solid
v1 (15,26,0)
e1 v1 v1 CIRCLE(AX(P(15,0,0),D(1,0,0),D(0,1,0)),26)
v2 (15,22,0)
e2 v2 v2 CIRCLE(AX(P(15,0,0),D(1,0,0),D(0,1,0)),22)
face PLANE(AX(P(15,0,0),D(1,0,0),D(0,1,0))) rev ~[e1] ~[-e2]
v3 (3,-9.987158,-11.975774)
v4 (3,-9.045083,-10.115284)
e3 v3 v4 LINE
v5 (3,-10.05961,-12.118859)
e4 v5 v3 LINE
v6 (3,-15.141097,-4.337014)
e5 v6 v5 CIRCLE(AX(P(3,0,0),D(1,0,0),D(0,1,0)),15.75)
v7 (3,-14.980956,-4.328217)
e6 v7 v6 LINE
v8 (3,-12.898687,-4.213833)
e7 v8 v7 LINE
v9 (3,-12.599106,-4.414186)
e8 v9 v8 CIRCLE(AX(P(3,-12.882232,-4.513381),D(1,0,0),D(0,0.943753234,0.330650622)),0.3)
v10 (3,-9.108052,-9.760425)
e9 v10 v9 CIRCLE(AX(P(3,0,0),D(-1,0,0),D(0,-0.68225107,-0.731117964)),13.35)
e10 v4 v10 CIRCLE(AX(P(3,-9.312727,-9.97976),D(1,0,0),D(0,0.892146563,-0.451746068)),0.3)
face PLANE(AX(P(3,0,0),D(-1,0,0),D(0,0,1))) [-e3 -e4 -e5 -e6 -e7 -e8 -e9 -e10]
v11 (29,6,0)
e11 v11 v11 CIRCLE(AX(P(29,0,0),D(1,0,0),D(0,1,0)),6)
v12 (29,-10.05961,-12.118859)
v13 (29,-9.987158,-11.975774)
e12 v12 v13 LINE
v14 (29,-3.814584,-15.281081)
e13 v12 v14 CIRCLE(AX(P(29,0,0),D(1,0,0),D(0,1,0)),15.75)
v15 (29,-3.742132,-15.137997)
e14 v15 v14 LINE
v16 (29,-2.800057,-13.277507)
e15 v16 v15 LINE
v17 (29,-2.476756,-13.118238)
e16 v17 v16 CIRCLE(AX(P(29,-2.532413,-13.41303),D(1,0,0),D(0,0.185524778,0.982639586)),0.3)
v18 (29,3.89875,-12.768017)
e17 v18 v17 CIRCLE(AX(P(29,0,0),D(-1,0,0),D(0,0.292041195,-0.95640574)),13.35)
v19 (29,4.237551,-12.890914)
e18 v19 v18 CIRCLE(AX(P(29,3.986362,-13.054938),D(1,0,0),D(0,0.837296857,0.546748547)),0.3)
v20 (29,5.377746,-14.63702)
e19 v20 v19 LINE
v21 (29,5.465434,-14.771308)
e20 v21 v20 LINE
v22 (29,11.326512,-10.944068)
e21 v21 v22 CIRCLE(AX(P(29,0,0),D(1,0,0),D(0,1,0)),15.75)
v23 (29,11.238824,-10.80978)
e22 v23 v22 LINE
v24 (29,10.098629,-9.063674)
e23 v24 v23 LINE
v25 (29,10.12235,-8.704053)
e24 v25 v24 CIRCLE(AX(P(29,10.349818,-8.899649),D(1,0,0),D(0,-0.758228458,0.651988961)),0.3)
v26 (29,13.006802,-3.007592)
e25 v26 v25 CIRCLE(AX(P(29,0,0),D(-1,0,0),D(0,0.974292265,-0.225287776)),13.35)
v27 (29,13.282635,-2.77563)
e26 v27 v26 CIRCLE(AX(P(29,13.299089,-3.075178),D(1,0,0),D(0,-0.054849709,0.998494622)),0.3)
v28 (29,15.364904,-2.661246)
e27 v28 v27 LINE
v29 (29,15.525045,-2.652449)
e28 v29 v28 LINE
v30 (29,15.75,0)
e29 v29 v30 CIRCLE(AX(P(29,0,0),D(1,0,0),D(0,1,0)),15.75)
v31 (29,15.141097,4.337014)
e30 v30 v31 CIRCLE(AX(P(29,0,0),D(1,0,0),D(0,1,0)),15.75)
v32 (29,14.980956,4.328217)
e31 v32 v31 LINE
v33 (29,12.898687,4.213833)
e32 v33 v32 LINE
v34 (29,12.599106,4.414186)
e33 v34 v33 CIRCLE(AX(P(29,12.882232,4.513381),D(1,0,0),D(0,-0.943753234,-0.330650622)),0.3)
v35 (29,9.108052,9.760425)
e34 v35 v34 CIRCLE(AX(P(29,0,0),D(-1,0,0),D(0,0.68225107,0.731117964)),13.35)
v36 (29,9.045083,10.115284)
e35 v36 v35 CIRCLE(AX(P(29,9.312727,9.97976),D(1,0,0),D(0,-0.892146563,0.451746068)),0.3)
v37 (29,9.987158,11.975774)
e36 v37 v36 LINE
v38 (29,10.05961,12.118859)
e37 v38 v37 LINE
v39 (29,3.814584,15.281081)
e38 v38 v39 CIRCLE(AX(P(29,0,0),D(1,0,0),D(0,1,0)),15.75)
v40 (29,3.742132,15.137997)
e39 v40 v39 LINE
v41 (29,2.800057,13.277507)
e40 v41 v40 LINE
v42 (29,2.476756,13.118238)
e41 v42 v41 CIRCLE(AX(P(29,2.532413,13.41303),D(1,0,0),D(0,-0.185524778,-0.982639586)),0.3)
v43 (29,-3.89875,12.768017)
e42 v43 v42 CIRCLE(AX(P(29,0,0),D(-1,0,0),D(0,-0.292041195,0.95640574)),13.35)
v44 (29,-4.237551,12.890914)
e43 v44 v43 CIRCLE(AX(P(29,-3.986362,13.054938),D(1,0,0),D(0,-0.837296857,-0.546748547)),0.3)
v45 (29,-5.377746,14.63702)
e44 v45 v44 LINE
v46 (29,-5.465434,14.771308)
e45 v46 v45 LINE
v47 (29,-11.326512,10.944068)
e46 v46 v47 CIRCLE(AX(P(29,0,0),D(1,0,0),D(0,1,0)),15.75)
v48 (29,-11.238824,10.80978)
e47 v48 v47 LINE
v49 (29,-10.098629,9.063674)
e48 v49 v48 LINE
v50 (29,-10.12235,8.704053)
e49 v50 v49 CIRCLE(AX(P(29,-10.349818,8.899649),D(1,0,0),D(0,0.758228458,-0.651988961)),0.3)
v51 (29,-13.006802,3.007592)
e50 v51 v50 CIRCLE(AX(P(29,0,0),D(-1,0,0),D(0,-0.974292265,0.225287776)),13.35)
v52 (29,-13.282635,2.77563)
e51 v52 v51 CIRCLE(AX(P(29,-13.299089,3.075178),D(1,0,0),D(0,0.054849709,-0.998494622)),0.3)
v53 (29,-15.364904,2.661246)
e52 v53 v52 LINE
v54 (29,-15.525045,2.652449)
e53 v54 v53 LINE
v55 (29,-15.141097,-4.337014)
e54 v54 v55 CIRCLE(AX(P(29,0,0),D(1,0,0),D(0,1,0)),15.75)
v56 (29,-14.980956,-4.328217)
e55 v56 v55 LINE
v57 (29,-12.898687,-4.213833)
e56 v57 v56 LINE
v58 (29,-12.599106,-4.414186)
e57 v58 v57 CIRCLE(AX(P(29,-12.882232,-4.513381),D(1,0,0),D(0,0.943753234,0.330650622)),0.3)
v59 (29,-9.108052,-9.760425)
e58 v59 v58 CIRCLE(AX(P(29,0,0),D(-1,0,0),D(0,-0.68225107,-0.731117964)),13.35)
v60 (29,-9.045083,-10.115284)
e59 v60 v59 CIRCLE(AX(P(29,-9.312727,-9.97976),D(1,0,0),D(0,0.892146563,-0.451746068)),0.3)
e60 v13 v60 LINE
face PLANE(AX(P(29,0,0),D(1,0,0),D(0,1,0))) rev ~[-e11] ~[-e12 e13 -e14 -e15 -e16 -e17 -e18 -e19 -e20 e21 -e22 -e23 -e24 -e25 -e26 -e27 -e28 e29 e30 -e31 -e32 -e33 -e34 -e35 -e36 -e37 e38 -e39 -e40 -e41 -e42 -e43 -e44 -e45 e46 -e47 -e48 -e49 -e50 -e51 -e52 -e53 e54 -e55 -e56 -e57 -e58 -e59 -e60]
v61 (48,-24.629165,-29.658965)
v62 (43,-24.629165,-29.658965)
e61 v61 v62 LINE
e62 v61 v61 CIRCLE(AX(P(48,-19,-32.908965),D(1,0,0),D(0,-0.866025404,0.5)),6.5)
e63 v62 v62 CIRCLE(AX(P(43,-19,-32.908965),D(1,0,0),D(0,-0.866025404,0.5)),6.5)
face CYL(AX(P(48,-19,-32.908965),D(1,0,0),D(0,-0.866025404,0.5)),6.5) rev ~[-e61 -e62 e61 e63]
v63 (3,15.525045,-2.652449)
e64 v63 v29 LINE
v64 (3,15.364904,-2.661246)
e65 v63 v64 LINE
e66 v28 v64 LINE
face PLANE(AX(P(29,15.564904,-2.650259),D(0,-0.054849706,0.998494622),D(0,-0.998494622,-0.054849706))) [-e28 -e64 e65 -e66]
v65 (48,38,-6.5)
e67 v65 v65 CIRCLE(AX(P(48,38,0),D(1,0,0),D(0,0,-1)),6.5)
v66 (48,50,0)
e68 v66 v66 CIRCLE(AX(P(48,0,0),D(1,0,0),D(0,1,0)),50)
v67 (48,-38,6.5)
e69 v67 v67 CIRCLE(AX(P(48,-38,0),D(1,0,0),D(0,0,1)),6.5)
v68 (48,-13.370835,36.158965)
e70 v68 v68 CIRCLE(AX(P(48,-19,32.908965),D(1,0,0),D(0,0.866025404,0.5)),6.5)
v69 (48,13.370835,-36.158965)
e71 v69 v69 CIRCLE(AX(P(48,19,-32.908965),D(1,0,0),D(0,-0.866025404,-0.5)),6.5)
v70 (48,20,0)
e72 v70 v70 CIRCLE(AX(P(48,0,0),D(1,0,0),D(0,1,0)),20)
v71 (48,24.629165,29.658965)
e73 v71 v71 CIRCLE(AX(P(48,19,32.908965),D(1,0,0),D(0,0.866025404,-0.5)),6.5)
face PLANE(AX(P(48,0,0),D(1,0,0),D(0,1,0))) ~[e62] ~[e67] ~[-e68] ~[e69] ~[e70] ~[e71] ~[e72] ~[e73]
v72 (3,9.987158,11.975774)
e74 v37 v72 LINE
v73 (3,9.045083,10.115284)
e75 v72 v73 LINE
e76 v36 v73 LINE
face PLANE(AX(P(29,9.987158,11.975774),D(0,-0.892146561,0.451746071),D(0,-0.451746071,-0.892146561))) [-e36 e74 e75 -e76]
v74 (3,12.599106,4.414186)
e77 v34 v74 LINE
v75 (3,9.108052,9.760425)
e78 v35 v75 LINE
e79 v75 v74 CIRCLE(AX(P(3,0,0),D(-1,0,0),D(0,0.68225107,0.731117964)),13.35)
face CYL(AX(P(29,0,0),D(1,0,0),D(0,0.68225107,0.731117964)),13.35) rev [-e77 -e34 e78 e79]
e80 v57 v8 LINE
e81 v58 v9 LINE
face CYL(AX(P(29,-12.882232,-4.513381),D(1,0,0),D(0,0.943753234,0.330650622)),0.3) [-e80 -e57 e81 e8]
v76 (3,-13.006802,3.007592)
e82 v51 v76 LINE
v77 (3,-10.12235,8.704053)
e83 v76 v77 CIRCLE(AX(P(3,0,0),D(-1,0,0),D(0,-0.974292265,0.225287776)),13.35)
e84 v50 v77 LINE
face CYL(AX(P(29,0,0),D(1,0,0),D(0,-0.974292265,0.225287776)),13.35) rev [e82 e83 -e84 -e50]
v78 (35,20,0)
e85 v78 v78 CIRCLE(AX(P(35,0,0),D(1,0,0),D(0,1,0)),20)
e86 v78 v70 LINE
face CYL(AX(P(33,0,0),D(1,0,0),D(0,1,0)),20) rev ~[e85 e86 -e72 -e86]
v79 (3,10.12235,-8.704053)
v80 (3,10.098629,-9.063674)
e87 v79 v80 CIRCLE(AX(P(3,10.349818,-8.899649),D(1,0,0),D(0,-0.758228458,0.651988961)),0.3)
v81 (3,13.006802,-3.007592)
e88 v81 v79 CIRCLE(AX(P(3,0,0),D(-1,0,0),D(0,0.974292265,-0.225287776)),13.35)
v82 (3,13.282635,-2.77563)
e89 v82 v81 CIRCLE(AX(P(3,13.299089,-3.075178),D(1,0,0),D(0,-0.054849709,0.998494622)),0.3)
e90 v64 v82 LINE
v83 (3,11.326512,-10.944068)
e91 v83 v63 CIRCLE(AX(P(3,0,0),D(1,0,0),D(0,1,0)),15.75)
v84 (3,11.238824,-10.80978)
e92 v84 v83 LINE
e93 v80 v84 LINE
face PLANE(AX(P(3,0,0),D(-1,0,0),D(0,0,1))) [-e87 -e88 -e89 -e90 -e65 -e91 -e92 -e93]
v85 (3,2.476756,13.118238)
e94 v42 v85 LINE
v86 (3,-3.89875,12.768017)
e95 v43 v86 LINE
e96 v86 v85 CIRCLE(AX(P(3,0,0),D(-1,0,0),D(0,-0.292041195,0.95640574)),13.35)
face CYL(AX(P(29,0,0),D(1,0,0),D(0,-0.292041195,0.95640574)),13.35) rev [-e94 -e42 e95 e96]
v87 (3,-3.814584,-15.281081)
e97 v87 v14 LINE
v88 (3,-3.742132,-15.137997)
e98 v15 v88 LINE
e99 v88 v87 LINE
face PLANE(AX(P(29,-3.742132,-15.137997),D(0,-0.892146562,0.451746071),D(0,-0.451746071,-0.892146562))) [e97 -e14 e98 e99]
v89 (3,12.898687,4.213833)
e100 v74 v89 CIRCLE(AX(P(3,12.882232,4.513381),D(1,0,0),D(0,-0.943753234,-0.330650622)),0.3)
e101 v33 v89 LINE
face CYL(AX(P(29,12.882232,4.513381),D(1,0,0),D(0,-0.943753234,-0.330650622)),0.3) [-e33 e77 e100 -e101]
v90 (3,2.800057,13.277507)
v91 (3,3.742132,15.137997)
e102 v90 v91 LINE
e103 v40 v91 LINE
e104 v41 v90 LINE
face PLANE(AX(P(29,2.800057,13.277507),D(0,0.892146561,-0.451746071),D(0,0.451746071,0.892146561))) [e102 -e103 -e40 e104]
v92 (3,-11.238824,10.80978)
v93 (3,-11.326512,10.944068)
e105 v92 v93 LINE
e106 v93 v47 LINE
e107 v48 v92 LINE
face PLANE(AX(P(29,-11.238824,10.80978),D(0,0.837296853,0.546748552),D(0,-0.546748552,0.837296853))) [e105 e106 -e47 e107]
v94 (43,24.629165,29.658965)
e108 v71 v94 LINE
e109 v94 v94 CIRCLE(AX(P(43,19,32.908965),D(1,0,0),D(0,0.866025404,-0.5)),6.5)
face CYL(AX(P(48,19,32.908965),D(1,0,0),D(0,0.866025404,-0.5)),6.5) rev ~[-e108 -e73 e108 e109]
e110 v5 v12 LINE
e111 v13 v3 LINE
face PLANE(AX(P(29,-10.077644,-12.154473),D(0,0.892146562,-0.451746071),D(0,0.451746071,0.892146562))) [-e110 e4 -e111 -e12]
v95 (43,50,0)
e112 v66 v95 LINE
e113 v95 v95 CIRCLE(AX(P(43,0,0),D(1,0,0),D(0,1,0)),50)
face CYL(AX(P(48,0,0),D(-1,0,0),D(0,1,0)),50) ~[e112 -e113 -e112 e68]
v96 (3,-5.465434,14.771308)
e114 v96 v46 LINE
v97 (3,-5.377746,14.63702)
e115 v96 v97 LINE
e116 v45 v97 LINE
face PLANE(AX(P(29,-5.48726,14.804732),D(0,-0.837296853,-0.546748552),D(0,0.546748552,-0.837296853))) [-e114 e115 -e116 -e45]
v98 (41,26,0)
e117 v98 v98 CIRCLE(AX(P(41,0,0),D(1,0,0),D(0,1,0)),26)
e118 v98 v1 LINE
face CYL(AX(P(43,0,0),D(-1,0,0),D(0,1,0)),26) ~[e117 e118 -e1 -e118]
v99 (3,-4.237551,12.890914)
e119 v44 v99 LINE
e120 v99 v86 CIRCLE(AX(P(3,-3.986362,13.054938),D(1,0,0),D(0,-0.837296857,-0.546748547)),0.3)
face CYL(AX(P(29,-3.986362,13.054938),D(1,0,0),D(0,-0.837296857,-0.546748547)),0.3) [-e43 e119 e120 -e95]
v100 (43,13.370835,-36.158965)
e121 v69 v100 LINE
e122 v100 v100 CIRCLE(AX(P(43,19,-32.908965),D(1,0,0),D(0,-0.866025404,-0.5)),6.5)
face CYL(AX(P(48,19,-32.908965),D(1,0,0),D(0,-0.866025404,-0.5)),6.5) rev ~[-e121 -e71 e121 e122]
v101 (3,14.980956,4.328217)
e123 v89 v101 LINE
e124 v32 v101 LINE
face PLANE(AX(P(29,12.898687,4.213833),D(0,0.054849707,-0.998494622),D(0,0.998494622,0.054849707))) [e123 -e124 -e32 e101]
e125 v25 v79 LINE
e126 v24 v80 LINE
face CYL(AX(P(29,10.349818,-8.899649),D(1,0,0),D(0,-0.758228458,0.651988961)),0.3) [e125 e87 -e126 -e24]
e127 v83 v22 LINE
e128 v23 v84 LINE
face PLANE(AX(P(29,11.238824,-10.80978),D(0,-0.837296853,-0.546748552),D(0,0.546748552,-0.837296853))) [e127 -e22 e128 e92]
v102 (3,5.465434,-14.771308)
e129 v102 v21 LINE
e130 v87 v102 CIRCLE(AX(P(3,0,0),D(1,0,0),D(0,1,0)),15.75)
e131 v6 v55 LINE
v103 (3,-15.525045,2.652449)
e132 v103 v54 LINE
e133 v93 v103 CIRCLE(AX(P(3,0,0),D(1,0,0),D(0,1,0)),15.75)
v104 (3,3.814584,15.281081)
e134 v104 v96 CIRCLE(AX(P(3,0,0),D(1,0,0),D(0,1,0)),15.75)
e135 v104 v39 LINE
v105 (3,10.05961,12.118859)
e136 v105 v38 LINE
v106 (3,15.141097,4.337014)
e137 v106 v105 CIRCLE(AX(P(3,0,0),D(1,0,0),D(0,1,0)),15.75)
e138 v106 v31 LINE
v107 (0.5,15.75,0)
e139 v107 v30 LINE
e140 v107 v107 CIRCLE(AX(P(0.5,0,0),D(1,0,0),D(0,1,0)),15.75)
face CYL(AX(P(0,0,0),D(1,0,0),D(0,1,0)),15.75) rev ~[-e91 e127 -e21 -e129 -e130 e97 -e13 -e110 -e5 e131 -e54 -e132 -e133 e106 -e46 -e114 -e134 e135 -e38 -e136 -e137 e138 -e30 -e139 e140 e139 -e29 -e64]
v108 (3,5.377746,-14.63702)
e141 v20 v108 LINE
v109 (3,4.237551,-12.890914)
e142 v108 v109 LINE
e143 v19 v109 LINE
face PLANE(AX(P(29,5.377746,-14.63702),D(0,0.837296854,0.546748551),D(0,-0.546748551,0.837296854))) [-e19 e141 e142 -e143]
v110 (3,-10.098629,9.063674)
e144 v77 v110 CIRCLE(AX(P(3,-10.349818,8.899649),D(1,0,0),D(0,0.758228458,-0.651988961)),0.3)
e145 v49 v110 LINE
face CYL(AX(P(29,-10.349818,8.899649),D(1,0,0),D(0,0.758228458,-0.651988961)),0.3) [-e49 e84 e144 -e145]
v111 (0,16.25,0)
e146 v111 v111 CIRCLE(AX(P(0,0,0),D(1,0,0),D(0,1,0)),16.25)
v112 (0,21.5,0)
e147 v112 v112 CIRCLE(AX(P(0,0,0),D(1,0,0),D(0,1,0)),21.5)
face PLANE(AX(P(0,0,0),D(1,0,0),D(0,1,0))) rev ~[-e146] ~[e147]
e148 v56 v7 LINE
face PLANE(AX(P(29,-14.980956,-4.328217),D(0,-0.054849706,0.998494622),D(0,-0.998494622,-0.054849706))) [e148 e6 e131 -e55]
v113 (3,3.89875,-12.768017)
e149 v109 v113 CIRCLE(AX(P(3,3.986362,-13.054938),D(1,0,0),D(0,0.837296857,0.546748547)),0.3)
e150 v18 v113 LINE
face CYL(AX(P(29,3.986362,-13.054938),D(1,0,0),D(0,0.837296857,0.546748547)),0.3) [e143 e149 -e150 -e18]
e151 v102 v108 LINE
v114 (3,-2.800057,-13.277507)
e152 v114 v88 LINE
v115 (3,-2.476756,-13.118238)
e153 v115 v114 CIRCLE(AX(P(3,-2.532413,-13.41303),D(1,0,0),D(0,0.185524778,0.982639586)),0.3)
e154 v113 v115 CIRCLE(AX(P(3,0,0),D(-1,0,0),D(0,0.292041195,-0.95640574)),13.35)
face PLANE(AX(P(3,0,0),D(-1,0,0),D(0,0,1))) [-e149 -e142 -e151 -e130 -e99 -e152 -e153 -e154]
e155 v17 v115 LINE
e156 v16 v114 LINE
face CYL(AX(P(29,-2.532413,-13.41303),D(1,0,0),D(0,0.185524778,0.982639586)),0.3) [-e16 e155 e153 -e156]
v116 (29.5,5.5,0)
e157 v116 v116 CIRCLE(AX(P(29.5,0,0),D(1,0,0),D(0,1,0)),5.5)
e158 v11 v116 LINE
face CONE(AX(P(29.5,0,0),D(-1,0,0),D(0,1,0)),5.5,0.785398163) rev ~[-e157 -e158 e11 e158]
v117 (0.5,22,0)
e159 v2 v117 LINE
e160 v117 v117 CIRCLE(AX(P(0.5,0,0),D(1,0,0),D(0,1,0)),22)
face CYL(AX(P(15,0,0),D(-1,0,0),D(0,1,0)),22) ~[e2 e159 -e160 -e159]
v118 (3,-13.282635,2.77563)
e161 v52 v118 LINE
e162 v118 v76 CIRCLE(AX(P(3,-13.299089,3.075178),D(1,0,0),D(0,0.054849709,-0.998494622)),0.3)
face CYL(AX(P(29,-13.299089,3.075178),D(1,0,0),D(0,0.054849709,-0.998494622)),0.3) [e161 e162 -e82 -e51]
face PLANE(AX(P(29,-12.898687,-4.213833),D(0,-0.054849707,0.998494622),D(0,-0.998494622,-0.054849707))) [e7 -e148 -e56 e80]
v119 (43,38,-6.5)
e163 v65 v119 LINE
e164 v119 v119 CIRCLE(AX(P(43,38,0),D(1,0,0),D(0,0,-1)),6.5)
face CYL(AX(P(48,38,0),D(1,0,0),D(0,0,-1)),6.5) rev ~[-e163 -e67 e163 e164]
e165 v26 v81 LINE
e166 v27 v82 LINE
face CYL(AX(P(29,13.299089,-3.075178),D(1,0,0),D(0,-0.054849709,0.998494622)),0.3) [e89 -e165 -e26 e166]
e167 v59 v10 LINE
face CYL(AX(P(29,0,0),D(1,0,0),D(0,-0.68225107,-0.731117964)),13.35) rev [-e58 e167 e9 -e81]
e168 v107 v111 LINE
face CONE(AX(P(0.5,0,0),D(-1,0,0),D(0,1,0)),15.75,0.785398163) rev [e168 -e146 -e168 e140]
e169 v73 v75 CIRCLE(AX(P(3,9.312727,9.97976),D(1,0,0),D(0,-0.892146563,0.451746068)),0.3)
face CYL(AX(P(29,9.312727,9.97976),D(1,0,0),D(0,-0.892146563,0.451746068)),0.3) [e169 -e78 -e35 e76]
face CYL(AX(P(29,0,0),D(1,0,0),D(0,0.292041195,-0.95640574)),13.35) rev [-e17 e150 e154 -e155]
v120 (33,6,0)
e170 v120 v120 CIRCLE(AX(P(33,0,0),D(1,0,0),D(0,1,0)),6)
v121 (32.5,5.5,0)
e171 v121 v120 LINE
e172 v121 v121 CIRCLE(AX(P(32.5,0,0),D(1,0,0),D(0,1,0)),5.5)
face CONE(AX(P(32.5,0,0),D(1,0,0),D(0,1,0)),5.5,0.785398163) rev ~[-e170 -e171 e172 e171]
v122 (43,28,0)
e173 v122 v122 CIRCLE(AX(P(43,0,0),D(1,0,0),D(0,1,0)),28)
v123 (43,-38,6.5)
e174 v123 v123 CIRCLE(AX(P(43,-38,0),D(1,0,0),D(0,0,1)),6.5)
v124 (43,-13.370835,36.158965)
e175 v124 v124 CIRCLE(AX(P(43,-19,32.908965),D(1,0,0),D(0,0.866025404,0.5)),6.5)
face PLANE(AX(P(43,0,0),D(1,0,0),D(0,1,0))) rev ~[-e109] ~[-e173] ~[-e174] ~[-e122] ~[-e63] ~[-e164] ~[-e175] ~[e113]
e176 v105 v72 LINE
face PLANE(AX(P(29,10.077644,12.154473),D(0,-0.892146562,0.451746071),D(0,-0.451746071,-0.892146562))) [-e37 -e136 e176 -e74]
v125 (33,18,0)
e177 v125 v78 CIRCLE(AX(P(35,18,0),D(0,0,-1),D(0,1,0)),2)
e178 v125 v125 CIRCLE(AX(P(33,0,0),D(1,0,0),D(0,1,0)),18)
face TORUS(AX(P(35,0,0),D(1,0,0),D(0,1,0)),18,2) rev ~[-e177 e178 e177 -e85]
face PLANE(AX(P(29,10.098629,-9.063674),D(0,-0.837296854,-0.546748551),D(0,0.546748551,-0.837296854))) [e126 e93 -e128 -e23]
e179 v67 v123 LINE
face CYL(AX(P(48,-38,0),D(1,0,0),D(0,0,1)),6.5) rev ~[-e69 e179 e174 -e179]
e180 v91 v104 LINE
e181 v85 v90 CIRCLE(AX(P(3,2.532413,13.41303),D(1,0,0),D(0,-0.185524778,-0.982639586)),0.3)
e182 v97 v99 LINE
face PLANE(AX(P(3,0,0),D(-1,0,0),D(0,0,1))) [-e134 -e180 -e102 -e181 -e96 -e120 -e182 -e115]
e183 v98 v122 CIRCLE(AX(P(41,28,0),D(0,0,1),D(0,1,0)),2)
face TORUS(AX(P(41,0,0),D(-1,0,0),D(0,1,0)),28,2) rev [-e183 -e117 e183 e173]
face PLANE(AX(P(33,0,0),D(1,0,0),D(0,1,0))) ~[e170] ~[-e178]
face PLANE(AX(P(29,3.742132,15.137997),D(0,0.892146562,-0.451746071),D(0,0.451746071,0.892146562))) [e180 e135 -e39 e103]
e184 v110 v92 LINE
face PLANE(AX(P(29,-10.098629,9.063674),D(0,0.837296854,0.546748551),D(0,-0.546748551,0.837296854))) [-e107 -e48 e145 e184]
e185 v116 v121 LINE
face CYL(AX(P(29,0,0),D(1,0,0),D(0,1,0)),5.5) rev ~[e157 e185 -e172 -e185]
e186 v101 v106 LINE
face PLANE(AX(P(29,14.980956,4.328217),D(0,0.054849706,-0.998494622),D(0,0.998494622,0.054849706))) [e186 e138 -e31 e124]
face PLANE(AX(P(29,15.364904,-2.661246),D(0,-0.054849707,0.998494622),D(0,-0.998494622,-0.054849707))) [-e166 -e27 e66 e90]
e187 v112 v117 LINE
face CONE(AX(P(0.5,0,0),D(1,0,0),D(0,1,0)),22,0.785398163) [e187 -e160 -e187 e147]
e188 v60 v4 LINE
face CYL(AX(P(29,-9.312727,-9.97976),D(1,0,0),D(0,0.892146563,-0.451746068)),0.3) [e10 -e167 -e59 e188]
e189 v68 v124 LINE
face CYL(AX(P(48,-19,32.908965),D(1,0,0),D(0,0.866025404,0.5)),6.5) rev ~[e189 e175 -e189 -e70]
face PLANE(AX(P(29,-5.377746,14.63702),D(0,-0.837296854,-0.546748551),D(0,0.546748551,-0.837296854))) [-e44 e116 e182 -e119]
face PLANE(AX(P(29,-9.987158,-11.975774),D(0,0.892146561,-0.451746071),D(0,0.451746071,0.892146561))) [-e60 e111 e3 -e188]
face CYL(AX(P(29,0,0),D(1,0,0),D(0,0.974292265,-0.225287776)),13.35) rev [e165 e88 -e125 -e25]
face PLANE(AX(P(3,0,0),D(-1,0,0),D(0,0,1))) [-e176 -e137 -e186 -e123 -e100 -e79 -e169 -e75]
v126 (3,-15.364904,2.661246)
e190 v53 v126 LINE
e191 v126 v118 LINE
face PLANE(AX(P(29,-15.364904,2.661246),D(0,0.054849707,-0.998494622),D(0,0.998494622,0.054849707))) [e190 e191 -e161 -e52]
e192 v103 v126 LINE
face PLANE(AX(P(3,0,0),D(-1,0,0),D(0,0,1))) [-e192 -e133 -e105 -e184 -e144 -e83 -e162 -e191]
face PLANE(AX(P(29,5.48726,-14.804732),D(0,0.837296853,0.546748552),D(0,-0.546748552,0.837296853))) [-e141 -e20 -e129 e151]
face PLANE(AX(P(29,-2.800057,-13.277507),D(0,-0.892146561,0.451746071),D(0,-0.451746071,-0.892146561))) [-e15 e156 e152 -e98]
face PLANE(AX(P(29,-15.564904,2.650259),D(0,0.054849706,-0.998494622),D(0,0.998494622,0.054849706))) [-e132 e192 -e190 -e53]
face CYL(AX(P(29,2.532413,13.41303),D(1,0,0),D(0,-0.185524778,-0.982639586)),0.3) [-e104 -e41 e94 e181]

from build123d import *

# Parameters (mm, degrees)
SZKIC4_R                    = 6.5
WYTNIJ_WYCI_GNI_CIE1_DEPTH  = 10
SZYK_KO_OWY1_COUNT          = 6
ZAOKR_GLENIE1_R             = 2
SZKIC6_R                    = 16.5
DODANIE_WYCI_GNI_CIE1_DEPTH = 26
SFAZOWANIE1_SIZE            = 0.5


with BuildPart() as part:
    # Szkic2 → Obrót1 (revolve)
    with BuildSketch(Plane.XY):
        Polygon((0, 15.75), (29, 15.75), (29, 5.5), (33, 5.5), (33, 20), (48, 20), (48, 50), (43, 50), (43, 26), (15, 26), (15, 22), (0, 22), align=None)
    revolve(axis=Axis((0, 0, 0), (1, 0, 0)))

    # Szkic4 → Wytnij-wyciągnięcie1 (cut)
    with BuildSketch(Plane(origin=(48, 0, 0), x_dir=(0, 0, -1), z_dir=(1, 0, 0))):
        with Locations((0, 38)):
            Circle(SZKIC4_R)
    wytnij_wyci_gni_cie1 = extrude(amount=-WYTNIJ_WYCI_GNI_CIE1_DEPTH, mode=Mode.SUBTRACT)

    # Szyk kołowy1: Wytnij-wyciągnięcie1 ×6 about axis
    szyk_ko_owy1_axis = Axis((0, 0, 0), (1, 0, 0))
    for i in range(1, SZYK_KO_OWY1_COUNT):
        add(wytnij_wyci_gni_cie1.rotate(szyk_ko_owy1_axis, i * 360 / SZYK_KO_OWY1_COUNT), mode=Mode.SUBTRACT)

    # Zaokrąglenie1
    zaokr_glenie1_edges = [part.edges().sort_by_distance(p)[0] for p in [
        (33, -20, 0),
        (43, -26, 0),
    ]]
    fillet(zaokr_glenie1_edges, radius=ZAOKR_GLENIE1_R)

    # Szkic6 → Dodanie-wyciągnięcie1 (add)
    with BuildSketch(Plane.ZY.offset(-29)):
        Circle(SZKIC6_R)
        with BuildLine():
            Line((-4.32821665, -14.980955932), (-4.33920313, -15.180955932))
            ThreePointArc((-4.33920313, -15.180955932), (-4.301860669, -15.308717905), (-4.192604113, -15.384748071))
            ThreePointArc((-4.192604113, -15.384748071), (-0.874869369, -15.926290292), (2.482220063, -15.751412191))
            ThreePointArc((2.482220063, -15.751412191), (2.599147134, -15.687806835), (2.650259222, -15.564903882))
            Line((2.650259222, -15.564903882), (2.661245702, -15.364903882))
            Line((2.661245702, -15.364903882), (2.775629759, -13.282634507))
            ThreePointArc((2.775629759, -13.282634507), (2.845574347, -13.106003698), (3.007591812, -13.006801739))
            ThreePointArc((3.007591812, -13.006801739), (6.030810048, -11.910156597), (8.704052682, -10.122349871))
            ThreePointArc((8.704052682, -10.122349871), (8.879904359, -10.050468889), (9.063673937, -10.098629351))
            Line((9.063673937, -10.098629351), (10.809780085, -11.238823538))
            Line((10.809780085, -11.238823538), (10.977491925, -11.348338109))
            ThreePointArc((10.977491925, -11.348338109), (11.106808271, -11.379879576), (11.227280604, -11.323275705))
            ThreePointArc((11.227280604, -11.323275705), (13.355137297, -8.720804245), (14.882233134, -5.726040463))
            ThreePointArc((14.882233134, -5.726040463), (14.885612816, -5.592975971), (14.80473178, -5.487260129))
            Line((14.80473178, -5.487260129), (14.63701994, -5.377745558))
            Line((14.63701994, -5.377745558), (12.890913792, -4.237551371))
            ThreePointArc((12.890913792, -4.237551371), (12.772919318, -4.088662177), (12.768016635, -3.898749956))
            ThreePointArc((12.768016635, -3.898749956), (13.3299032, -0.732243591), (13.118238475, 2.476755803))
            ThreePointArc((13.118238475, 2.476755803), (13.143913557, 2.664988314), (13.27750653, 2.800057205))
            Line((13.27750653, 2.800057205), (15.137996735, 3.742132394))
            Line((15.137996735, 3.742132394), (15.316695056, 3.832617823))
            ThreePointArc((15.316695056, 3.832617823), (15.40866894, 3.928838329), (15.419884717, 4.061472366))
            ThreePointArc((15.419884717, 4.061472366), (14.230006666, 7.205486047), (12.400013071, 10.025371728))
            ThreePointArc((12.400013071, 10.025371728), (12.286465682, 10.094830864), (12.154472559, 10.077643754))
            Line((12.154472559, 10.077643754), (11.975774238, 9.987158325))
            Line((11.975774238, 9.987158325), (10.115284033, 9.045083136))
            ThreePointArc((10.115284033, 9.045083136), (9.927344971, 9.017341522), (9.760424822, 9.108051784))
            ThreePointArc((9.760424822, 9.108051784), (7.299093152, 11.177913005), (4.414185793, 12.599105674))
            ThreePointArc((4.414185793, 12.599105674), (4.264009198, 12.715457202), (4.213832593, 12.898686556))
            Line((4.213832593, 12.898686556), (4.32821665, 14.980955932))
            Line((4.32821665, 14.980955932), (4.33920313, 15.180955932))
            ThreePointArc((4.33920313, 15.180955932), (4.301860669, 15.308717905), (4.192604113, 15.384748071))
            ThreePointArc((4.192604113, 15.384748071), (0.874869369, 15.926290292), (-2.482220063, 15.751412191))
            ThreePointArc((-2.482220063, 15.751412191), (-2.599147134, 15.687806835), (-2.650259222, 15.564903882))
            Line((-2.650259222, 15.564903882), (-2.661245702, 15.364903882))
            Line((-2.661245702, 15.364903882), (-2.775629759, 13.282634507))
            ThreePointArc((-2.775629759, 13.282634507), (-2.845574347, 13.106003698), (-3.007591812, 13.006801739))
            ThreePointArc((-3.007591812, 13.006801739), (-6.030810048, 11.910156597), (-8.704052682, 10.122349871))
            ThreePointArc((-8.704052682, 10.122349871), (-8.879904359, 10.050468889), (-9.063673937, 10.098629351))
            Line((-9.063673937, 10.098629351), (-10.809780085, 11.238823538))
            Line((-10.809780085, 11.238823538), (-10.977491925, 11.348338109))
            ThreePointArc((-10.977491925, 11.348338109), (-11.106808271, 11.379879576), (-11.227280604, 11.323275705))
            ThreePointArc((-11.227280604, 11.323275705), (-13.355137297, 8.720804245), (-14.882233134, 5.726040463))
            ThreePointArc((-14.882233134, 5.726040463), (-14.885612816, 5.592975971), (-14.80473178, 5.487260129))
            Line((-14.80473178, 5.487260129), (-14.63701994, 5.377745558))
            Line((-14.63701994, 5.377745558), (-12.890913792, 4.237551371))
            ThreePointArc((-12.890913792, 4.237551371), (-12.772919318, 4.088662177), (-12.768016635, 3.898749956))
            ThreePointArc((-12.768016635, 3.898749956), (-13.3299032, 0.732243591), (-13.118238475, -2.476755803))
            ThreePointArc((-13.118238475, -2.476755803), (-13.143913557, -2.664988314), (-13.27750653, -2.800057205))
            Line((-13.27750653, -2.800057205), (-15.137996735, -3.742132394))
            Line((-15.137996735, -3.742132394), (-15.316695056, -3.832617823))
            ThreePointArc((-15.316695056, -3.832617823), (-15.40866894, -3.928838329), (-15.419884717, -4.061472366))
            ThreePointArc((-15.419884717, -4.061472366), (-14.230006666, -7.205486047), (-12.400013071, -10.025371728))
            ThreePointArc((-12.400013071, -10.025371728), (-12.286465682, -10.094830864), (-12.154472559, -10.077643754))
            Line((-12.154472559, -10.077643754), (-11.975774238, -9.987158325))
            Line((-11.975774238, -9.987158325), (-10.115284033, -9.045083136))
            ThreePointArc((-10.115284033, -9.045083136), (-9.927344971, -9.017341522), (-9.760424822, -9.108051784))
            ThreePointArc((-9.760424822, -9.108051784), (-7.299093152, -11.177913005), (-4.414185793, -12.599105674))
            ThreePointArc((-4.414185793, -12.599105674), (-4.264009198, -12.715457202), (-4.213832593, -12.898686556))
            Line((-4.213832593, -12.898686556), (-4.32821665, -14.980955932))
        make_face(mode=Mode.SUBTRACT)
    extrude(amount=DODANIE_WYCI_GNI_CIE1_DEPTH)

    # Sfazowanie1
    sfazowanie1_edges = [part.edges().sort_by_distance(p)[0] for p in [
        (33, -5.5, 0),
        (29, -5.5, 0),
        (0, -15.75, 0),
        (0, -22, 0),
    ]]
    chamfer(sfazowanie1_edges, length=SFAZOWANIE1_SIZE)


solid = part.part
